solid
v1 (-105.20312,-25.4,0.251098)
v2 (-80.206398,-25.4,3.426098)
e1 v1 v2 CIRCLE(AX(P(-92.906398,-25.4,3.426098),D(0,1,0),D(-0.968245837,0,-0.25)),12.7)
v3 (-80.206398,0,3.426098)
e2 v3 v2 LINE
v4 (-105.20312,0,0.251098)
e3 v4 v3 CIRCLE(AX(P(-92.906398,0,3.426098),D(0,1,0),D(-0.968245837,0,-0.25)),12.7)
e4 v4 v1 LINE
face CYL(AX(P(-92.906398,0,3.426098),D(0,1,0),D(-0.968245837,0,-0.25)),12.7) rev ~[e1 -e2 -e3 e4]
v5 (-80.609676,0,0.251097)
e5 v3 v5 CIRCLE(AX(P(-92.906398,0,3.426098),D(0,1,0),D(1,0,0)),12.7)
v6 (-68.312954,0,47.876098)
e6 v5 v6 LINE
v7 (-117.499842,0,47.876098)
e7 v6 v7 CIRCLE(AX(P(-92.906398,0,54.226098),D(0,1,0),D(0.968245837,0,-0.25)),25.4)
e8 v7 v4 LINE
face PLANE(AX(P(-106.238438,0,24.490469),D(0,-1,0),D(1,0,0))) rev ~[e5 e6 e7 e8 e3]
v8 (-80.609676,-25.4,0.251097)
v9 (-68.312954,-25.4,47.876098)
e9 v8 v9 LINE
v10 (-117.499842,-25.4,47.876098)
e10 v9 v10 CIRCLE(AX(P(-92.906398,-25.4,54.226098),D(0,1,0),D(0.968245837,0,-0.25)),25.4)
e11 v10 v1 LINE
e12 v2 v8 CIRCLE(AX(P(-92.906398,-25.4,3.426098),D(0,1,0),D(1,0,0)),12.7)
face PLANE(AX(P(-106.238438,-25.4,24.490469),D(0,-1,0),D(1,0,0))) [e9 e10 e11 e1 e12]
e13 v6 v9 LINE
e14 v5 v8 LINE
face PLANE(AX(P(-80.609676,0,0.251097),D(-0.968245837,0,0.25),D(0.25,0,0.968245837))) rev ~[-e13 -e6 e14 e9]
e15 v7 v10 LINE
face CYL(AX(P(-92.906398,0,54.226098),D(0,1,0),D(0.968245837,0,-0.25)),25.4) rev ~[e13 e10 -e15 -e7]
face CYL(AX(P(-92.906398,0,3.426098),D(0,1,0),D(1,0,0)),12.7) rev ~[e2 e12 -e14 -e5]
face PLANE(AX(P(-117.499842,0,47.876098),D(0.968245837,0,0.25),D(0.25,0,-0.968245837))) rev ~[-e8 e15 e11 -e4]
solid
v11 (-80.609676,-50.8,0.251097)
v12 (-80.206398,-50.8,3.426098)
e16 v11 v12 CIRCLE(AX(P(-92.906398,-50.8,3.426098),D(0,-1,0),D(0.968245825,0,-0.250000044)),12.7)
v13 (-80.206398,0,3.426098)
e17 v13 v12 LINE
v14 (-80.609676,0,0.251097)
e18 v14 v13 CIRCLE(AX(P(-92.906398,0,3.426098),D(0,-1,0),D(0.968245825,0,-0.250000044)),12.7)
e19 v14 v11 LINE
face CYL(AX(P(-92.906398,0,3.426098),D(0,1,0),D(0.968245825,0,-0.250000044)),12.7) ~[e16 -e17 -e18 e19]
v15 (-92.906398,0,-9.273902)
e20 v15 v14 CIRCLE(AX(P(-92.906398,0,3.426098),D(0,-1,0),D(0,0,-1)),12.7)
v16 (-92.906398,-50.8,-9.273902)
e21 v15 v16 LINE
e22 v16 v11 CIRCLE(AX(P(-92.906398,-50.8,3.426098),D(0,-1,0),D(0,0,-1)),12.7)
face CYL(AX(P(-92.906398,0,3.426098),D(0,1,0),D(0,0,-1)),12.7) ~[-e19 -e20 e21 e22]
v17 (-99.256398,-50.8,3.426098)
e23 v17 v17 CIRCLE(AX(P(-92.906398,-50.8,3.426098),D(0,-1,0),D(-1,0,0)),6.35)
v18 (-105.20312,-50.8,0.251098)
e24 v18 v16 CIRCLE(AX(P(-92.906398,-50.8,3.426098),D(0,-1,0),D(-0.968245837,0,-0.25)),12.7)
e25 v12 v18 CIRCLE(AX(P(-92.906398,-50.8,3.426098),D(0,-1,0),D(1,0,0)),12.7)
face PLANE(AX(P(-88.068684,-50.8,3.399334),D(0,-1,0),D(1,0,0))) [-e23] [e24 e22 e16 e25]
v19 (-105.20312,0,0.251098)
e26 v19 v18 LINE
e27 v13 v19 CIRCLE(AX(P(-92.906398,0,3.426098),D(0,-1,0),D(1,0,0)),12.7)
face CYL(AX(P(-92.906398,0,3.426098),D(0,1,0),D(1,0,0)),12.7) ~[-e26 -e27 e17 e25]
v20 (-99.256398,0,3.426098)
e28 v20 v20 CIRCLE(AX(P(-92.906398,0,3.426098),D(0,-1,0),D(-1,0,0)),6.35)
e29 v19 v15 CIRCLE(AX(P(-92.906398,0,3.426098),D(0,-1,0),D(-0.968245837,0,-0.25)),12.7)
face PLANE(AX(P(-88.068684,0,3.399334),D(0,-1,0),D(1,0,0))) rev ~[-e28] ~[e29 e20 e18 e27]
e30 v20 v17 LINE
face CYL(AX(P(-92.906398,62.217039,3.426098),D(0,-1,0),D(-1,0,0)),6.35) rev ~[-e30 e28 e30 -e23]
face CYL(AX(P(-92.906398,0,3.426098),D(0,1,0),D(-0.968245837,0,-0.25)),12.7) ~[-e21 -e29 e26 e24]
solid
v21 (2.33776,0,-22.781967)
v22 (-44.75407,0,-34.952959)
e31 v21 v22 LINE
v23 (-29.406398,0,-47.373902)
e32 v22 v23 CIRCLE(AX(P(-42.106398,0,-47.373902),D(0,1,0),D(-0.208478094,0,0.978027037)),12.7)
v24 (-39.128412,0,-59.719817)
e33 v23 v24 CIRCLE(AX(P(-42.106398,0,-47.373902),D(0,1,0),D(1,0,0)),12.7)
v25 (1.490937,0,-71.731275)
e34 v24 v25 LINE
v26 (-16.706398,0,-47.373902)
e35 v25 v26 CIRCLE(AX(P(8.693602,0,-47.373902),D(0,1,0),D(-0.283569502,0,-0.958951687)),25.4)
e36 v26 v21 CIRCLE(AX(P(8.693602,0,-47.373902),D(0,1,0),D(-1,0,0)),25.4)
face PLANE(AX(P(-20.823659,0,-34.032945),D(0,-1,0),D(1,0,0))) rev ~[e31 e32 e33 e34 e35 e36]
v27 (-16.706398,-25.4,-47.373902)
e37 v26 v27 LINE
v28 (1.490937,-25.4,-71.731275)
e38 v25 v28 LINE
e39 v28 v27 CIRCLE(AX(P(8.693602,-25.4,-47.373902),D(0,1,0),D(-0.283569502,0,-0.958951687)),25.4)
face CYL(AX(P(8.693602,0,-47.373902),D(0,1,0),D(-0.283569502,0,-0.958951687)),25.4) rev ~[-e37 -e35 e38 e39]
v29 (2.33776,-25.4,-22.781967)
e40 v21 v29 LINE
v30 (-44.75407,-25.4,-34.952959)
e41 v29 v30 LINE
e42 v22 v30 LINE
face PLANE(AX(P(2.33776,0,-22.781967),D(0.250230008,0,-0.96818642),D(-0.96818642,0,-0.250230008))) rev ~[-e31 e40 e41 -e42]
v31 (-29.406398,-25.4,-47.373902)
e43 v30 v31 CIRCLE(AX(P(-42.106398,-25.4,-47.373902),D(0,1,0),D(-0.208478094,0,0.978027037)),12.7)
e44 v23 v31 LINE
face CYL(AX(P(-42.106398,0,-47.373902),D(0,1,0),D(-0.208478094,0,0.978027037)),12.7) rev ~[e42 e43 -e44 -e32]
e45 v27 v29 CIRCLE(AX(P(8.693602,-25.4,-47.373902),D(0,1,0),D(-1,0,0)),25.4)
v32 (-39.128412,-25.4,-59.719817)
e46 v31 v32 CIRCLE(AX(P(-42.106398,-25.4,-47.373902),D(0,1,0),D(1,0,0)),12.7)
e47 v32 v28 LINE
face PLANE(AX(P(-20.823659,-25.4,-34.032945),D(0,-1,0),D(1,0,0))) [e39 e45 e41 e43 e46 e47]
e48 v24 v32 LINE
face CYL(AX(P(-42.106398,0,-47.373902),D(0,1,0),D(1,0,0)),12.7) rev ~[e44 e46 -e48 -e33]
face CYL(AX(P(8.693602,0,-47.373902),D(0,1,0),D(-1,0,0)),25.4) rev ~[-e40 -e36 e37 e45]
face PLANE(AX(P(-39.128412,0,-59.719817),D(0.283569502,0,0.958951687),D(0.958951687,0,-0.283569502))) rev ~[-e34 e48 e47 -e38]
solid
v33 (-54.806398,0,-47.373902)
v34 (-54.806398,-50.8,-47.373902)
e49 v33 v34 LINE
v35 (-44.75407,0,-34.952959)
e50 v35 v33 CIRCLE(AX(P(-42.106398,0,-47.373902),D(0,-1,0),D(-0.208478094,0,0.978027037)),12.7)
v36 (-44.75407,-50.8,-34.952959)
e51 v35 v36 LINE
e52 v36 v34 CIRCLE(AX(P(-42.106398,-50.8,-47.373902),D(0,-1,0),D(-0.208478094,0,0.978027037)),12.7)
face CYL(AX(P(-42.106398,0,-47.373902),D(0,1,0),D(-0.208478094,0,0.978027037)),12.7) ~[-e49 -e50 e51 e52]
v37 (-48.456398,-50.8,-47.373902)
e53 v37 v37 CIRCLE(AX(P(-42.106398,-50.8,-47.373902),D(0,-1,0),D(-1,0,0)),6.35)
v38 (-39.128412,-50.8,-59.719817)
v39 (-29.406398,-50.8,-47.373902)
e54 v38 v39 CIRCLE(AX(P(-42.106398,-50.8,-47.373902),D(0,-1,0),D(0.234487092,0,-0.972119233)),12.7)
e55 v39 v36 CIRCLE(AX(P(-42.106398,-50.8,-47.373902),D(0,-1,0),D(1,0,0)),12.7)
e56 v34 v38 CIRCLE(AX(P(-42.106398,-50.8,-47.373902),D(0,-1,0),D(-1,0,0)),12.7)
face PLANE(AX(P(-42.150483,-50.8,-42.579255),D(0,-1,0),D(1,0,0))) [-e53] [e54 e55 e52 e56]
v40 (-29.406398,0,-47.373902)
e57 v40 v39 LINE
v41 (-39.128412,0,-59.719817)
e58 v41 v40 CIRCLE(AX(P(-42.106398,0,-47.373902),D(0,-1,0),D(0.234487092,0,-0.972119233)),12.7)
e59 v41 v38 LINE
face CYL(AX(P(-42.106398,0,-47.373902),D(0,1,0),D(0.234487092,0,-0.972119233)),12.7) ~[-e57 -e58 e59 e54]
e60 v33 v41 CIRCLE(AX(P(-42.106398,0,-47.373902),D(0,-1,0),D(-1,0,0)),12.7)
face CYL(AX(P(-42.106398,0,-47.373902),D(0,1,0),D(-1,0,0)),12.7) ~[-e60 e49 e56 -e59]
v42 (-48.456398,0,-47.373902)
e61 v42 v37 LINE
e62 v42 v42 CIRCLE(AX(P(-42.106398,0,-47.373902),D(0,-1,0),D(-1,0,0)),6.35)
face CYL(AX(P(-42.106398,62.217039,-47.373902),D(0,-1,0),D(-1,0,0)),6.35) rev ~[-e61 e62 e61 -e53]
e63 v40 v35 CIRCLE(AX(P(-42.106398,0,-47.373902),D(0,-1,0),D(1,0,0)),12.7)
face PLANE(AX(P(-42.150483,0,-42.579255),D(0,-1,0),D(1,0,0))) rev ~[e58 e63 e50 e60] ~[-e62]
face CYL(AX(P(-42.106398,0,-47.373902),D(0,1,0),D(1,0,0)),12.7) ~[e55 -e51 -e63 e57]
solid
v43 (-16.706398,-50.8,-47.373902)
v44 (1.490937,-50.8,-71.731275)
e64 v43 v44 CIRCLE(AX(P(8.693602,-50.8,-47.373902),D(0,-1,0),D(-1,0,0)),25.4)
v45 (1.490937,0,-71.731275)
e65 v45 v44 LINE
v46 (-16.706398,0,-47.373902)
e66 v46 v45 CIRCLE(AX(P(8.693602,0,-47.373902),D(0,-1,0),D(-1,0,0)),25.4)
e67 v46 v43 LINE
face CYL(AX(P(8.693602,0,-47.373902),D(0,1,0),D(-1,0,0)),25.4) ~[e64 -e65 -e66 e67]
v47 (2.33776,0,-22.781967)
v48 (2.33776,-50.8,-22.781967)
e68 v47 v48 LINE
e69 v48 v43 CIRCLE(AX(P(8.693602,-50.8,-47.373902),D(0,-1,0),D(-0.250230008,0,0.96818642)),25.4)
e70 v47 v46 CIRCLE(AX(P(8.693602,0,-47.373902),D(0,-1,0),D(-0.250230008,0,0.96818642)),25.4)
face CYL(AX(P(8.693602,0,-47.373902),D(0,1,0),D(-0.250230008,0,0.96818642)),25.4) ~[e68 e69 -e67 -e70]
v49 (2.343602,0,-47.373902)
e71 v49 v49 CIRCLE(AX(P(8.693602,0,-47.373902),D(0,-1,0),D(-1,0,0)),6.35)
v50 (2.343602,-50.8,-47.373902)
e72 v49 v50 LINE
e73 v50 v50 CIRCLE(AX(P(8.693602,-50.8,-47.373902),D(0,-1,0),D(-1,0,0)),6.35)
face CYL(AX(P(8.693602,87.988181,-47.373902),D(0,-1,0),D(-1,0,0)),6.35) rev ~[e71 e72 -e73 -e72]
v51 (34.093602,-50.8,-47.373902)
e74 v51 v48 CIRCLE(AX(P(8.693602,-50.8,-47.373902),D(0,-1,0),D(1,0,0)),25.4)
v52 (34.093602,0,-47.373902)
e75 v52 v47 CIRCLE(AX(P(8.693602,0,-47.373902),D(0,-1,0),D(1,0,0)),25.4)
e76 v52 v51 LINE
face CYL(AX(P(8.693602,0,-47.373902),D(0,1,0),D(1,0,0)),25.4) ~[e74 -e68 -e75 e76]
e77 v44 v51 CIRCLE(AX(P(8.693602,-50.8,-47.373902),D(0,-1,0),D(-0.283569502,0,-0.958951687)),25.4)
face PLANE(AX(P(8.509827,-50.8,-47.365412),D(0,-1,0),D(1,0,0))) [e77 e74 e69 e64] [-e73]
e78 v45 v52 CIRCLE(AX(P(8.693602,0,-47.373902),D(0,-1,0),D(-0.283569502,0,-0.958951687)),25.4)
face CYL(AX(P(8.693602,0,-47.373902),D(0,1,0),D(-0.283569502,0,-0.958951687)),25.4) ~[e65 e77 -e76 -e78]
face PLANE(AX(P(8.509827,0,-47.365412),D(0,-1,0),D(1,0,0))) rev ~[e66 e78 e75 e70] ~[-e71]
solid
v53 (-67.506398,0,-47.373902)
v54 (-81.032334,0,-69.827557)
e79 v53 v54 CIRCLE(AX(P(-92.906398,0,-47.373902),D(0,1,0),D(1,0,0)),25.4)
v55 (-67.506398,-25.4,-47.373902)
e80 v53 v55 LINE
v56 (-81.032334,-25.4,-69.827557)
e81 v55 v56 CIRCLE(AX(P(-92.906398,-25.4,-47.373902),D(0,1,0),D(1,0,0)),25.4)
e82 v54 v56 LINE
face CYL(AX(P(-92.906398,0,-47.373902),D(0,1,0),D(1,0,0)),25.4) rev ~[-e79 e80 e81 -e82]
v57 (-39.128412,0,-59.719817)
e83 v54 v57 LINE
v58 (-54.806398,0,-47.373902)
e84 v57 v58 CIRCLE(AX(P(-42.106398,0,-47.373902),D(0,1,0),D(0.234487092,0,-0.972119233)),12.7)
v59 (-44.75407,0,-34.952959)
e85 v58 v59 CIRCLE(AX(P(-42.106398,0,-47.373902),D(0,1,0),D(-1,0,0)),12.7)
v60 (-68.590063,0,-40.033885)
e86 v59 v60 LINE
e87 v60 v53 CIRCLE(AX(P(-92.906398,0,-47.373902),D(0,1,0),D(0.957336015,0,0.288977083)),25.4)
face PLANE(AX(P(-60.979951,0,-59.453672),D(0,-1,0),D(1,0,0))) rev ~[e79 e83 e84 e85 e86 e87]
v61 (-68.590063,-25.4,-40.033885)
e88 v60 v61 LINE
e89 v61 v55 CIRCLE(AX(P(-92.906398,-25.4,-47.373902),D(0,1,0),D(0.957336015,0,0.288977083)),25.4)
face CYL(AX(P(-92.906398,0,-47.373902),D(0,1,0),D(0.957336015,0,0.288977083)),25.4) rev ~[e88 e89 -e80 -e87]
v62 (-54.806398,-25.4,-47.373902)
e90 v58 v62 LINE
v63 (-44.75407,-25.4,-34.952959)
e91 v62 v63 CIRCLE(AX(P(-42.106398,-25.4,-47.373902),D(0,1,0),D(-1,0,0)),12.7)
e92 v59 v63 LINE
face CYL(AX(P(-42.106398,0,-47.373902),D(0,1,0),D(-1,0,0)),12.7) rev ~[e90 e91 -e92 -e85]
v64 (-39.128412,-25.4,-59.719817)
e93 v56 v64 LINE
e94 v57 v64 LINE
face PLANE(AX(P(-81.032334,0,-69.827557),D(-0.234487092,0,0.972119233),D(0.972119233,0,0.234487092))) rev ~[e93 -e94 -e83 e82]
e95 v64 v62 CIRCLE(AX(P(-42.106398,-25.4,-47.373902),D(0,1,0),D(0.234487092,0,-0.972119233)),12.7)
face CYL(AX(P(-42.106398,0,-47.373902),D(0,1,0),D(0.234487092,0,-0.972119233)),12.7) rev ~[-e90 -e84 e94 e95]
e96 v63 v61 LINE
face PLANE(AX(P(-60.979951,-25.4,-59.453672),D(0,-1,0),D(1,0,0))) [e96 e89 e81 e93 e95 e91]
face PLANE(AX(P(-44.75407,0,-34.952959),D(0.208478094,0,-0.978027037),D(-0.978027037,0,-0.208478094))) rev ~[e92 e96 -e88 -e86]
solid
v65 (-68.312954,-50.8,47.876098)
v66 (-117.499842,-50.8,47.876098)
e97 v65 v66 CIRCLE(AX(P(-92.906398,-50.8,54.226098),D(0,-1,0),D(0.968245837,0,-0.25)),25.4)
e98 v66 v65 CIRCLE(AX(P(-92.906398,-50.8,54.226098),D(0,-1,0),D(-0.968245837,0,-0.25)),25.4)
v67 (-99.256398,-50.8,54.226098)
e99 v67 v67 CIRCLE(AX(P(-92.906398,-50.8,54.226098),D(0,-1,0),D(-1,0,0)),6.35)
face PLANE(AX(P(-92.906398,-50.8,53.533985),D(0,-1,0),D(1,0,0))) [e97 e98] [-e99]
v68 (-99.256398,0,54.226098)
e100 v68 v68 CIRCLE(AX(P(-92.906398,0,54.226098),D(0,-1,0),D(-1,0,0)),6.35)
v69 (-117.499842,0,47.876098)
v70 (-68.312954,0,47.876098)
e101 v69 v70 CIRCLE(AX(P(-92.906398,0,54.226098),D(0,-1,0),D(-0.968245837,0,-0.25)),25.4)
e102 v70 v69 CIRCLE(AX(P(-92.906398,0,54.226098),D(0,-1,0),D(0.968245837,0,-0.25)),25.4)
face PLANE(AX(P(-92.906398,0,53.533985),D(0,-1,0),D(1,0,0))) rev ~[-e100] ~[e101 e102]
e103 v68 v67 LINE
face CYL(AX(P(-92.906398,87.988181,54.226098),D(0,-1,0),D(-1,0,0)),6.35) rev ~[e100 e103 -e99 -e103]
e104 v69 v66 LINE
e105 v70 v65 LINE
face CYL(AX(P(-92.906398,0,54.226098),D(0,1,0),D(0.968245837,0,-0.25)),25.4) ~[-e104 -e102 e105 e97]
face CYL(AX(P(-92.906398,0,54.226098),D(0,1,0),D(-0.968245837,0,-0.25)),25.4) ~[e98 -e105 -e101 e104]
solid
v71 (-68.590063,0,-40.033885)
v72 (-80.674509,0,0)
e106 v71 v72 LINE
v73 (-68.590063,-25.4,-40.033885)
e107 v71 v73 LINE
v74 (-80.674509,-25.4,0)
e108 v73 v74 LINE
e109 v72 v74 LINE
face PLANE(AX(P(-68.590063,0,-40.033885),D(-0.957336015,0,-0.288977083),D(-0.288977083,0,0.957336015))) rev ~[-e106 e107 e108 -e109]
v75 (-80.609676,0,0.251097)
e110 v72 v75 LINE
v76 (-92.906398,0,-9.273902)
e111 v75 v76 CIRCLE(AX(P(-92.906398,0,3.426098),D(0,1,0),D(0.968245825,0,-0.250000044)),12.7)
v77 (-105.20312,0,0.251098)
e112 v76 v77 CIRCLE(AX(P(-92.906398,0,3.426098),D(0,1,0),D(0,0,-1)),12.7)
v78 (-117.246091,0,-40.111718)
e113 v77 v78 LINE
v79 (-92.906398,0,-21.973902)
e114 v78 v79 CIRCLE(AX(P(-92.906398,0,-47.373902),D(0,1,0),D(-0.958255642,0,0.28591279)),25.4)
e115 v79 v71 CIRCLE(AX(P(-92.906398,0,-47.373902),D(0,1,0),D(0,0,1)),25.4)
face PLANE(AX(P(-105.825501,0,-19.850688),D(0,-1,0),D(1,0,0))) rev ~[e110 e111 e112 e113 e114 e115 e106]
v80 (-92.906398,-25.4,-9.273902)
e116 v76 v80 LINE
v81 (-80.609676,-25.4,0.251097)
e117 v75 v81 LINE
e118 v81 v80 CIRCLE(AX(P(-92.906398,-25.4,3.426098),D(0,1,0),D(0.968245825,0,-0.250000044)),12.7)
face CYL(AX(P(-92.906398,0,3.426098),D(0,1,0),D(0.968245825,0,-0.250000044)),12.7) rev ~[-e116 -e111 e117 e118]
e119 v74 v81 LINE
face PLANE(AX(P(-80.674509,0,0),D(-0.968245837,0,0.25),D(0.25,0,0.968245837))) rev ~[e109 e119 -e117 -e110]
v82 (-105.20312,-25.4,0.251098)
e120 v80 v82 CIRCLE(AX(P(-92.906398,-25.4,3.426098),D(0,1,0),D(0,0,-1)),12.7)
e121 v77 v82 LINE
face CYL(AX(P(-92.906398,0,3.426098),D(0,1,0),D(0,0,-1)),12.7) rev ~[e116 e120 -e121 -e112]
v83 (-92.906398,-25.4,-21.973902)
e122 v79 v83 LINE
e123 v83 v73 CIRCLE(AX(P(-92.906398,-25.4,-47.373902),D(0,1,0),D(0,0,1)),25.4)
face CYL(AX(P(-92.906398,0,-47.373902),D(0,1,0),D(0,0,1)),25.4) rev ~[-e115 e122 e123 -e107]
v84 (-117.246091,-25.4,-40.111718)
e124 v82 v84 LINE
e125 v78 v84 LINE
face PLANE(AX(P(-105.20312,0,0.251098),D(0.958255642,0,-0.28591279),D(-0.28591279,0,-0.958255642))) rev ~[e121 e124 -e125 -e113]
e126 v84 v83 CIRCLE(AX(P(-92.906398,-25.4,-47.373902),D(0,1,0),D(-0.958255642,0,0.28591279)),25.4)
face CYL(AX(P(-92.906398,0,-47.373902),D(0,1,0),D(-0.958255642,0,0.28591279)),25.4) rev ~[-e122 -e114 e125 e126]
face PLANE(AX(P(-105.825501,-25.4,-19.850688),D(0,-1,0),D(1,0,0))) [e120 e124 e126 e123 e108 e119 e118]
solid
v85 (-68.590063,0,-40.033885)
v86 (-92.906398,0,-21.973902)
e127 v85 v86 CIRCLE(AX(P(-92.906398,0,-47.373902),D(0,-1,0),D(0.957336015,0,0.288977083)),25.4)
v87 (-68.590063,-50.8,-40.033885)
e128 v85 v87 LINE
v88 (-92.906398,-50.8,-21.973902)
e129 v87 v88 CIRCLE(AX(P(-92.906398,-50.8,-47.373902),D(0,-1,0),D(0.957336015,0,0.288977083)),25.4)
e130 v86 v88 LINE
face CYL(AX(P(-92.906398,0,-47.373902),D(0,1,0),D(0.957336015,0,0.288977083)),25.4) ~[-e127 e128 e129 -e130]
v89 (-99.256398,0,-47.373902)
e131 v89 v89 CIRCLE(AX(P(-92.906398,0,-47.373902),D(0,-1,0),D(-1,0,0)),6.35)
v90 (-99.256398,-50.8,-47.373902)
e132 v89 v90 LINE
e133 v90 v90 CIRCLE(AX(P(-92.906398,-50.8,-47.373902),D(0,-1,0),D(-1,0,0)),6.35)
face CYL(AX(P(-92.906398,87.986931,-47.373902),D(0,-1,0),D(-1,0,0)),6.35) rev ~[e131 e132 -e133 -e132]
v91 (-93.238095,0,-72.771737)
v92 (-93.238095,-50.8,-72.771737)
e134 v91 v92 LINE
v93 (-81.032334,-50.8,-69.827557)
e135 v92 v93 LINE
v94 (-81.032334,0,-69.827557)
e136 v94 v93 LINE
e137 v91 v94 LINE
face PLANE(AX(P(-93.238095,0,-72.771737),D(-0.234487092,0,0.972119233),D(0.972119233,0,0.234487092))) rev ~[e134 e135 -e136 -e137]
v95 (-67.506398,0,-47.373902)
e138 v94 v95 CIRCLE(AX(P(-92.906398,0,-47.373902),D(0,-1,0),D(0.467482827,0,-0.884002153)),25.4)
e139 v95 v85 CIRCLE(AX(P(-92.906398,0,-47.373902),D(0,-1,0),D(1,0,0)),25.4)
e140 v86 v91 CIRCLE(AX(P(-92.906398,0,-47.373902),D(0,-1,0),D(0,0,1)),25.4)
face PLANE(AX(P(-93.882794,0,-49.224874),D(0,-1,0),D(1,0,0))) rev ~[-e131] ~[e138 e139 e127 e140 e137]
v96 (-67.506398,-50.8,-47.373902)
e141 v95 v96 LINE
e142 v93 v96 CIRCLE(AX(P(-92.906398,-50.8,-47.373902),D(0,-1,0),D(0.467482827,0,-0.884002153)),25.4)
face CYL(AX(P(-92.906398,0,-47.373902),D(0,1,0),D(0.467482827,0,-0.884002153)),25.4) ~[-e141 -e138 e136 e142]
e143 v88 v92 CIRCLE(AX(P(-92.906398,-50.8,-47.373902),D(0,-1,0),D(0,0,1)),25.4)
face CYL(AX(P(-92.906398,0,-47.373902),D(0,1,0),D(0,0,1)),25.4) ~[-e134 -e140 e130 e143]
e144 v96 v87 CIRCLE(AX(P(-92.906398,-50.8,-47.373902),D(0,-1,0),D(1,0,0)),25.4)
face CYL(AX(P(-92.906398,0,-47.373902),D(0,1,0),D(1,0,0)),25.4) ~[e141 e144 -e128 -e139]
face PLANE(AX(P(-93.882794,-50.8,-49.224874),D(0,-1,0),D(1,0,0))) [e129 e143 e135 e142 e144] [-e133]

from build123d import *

# Parameters (mm, degrees)
F1_DEPTH = 50.8
F2_DEPTH = 25.4
F3_D     = 12.7
F3_2_D   = 12.7
F3_3_D   = 12.7
F3_4_D   = 12.7
F3_5_D   = 12.7


with BuildPart() as f1:
    # F0 (on Front) → F1 (new body)
    with BuildSketch(Plane.XZ):
        with BuildLine():
            ThreePointArc((-92.9063978889, 28.8260975842), (-77.3521380222, 34.1456344421), (-68.3129536404, 47.8760975842))
            ThreePointArc((-68.3129536404, 47.8760975842), (-67.7088436037, 51.0255885551), (-67.5063978889, 54.2260975842))
            ThreePointArc((-67.5063978889, 54.2260975842), (-96.1069069179, 79.4236518694), (-117.4998421373, 47.8760975842))
            ThreePointArc((-117.4998421373, 47.8760975842), (-108.4606577555, 34.1456344421), (-92.9063978889, 28.8260975842))
        make_face()
    extrude(amount=F1_DEPTH)

    # F3 (through all)
    with Locations(Plane(origin=(0, 0, 0), x_dir=(1, 0, 0), z_dir=(0, 1, 0))):
        with Locations((-92.9063978889, 47.3739024158), (-92.9063978889, -3.4260975842), (-92.9063978889, -54.2260975842), (-42.1063978889, 47.3739024158), (8.6936021111, 47.3739024158)):
            Hole(F3_D / 2)


with BuildPart() as f1b:
    # F0 (on Front) → F1, piece 2 (new body)
    with BuildSketch(Plane.XZ):
        with BuildLine():
            Line((-92.9063978889, 3.4260975842), (-92.9063978889, -9.2739024158))
            ThreePointArc((-92.9063978889, -9.2739024158), (-85.1292681832, -6.6141341632), (-80.6096759086, 0.2510970266))
            ThreePointArc((-80.6096759086, 0.2510970266), (-80.3076207826, 1.825842784), (-80.2063978889, 3.4260975842))
            ThreePointArc((-80.2063978889, 3.4260975842), (-83.9261417678, 12.4063537053), (-92.9063978889, 16.1260975842))
            Line((-92.9063978889, 16.1260975842), (-92.9063978889, 3.4260975842))
        make_face()
        with BuildLine():
            ThreePointArc((-105.2031200131, 0.2510975842), (-100.6835278222, -6.6141339869), (-92.9063978889, -9.2739024158))
            Line((-92.9063978889, -9.2739024158), (-92.9063978889, 3.4260975842))
            Line((-92.9063978889, 3.4260975842), (-92.9063978889, 16.1260975842))
            ThreePointArc((-92.9063978889, 16.1260975842), (-102.9466294599, 11.2032275175), (-105.2031200131, 0.2510975842))
        make_face()
    extrude(amount=F1_DEPTH)

    # F3#2 (through all)
    with Locations(Plane(origin=(0, 0, 0), x_dir=(1, 0, 0), z_dir=(0, 1, 0))):
        with Locations((-92.9063978889, 47.3739024158), (-92.9063978889, -3.4260975842), (-92.9063978889, -54.2260975842), (-42.1063978889, 47.3739024158), (8.6936021111, 47.3739024158)):
            Hole(F3_2_D / 2)


with BuildPart() as f1c:
    # F0 (on Front) → F1, piece 3 (new body)
    with BuildSketch(Plane.XZ):
        with BuildLine():
            ThreePointArc((-81.0323340741, -69.8275570966), (-71.149086234, -60.4803660713), (-67.5063978889, -47.3739024158))
            Line((-67.5063978889, -47.3739024158), (-92.9063978889, -47.3739024158))
            Line((-92.9063978889, -47.3739024158), (-92.9063978889, -21.9739024158))
            ThreePointArc((-92.9063978889, -21.9739024158), (-108.0836918534, -27.0070237175), (-117.2460912074, -40.1117175408))
            ThreePointArc((-117.2460912074, -40.1117175408), (-113.3719442813, -62.4178849624), (-93.2380952331, -72.7717365139))
            Line((-93.2380952331, -72.7717365139), (-81.0323340741, -69.8275570966))
        make_face()
        with BuildLine():
            Line((-92.9063978889, -47.3739024158), (-67.5063978889, -47.3739024158))
            ThreePointArc((-67.5063978889, -47.3739024158), (-67.7787746086, -43.6641115478), (-68.5900631081, -40.0338845119))
            ThreePointArc((-68.5900631081, -40.0338845119), (-77.7617033518, -26.9827713197), (-92.9063978889, -21.9739024158))
            Line((-92.9063978889, -21.9739024158), (-92.9063978889, -47.3739024158))
        make_face()
    extrude(amount=F1_DEPTH)

    # F3#3 (through all)
    with Locations(Plane(origin=(0, 0, 0), x_dir=(1, 0, 0), z_dir=(0, 1, 0))):
        with Locations((-92.9063978889, 47.3739024158), (-92.9063978889, -3.4260975842), (-92.9063978889, -54.2260975842), (-42.1063978889, 47.3739024158), (8.6936021111, 47.3739024158)):
            Hole(F3_3_D / 2)


with BuildPart() as f1d:
    # F0 (on Front) → F1, piece 4 (new body)
    with BuildSketch(Plane.XZ):
        with BuildLine():
            ThreePointArc((2.3377599205, -22.7819673547), (-11.3887084088, -31.8220277964), (-16.7063978889, -47.3739024158))
            ThreePointArc((-16.7063978889, -47.3739024158), (-11.6547110887, -62.5760782443), (1.4909367505, -71.7312752565))
            ThreePointArc((1.4909367505, -71.7312752565), (23.8957779396, -67.7222156157), (34.0936021111, -47.3739024158))
            ThreePointArc((34.0936021111, -47.3739024158), (24.2454767306, -27.2915918958), (2.3377599205, -22.7819673547))
        make_face()
    extrude(amount=F1_DEPTH)

    # F3#4 (through all)
    with Locations(Plane(origin=(0, 0, 0), x_dir=(1, 0, 0), z_dir=(0, 1, 0))):
        with Locations((-92.9063978889, 47.3739024158), (-92.9063978889, -3.4260975842), (-92.9063978889, -54.2260975842), (-42.1063978889, 47.3739024158), (8.6936021111, 47.3739024158)):
            Hole(F3_4_D / 2)


with BuildPart() as f1e:
    # F0 (on Front) → F1, piece 5 (new body)
    with BuildSketch(Plane.XZ):
        with BuildLine():
            Line((-54.8063978889, -47.3739024158), (-42.1063978889, -47.3739024158))
            Line((-42.1063978889, -47.3739024158), (-29.4063978889, -47.3739024158))
            ThreePointArc((-29.4063978889, -47.3739024158), (-34.1168870071, -37.5018349591), (-44.7540696795, -34.9529590503))
            ThreePointArc((-44.7540696795, -34.9529590503), (-51.9784653456, -39.3843915341), (-54.8063978889, -47.3739024158))
        make_face()
        with BuildLine():
            Line((-29.4063978889, -47.3739024158), (-42.1063978889, -47.3739024158))
            Line((-42.1063978889, -47.3739024158), (-54.8063978889, -47.3739024158))
            ThreePointArc((-54.8063978889, -47.3739024158), (-49.9635467661, -57.3516382071), (-39.1284118225, -59.7198166788))
            ThreePointArc((-39.1284118225, -59.7198166788), (-32.1286620975, -55.231051293), (-29.4063978889, -47.3739024158))
        make_face()
    extrude(amount=F1_DEPTH)

    # F3#5 (through all)
    with Locations(Plane(origin=(0, 0, 0), x_dir=(1, 0, 0), z_dir=(0, 1, 0))):
        with Locations((-92.9063978889, 47.3739024158), (-92.9063978889, -3.4260975842), (-92.9063978889, -54.2260975842), (-42.1063978889, 47.3739024158), (8.6936021111, 47.3739024158)):
            Hole(F3_5_D / 2)


with BuildPart() as f2:
    # F0 (on Front) → F2 (new body)
    with BuildSketch(Plane.XZ):
        with BuildLine():
            Line((-117.4998421373, 47.8760975842), (-105.2031200131, 0.2510975842))
            ThreePointArc((-105.2031200131, 0.2510975842), (-102.9466294599, 11.2032275175), (-92.9063978889, 16.1260975842))
            Line((-92.9063978889, 16.1260975842), (-92.9063978889, 28.8260975842))
            ThreePointArc((-92.9063978889, 28.8260975842), (-108.4606577555, 34.1456344421), (-117.4998421373, 47.8760975842))
        make_face()
        with BuildLine():
            ThreePointArc((-80.2063978889, 3.4260975842), (-80.3076207826, 1.825842784), (-80.6096759086, 0.2510970266))
            Line((-80.6096759086, 0.2510970266), (-68.3129536404, 47.8760975842))
            ThreePointArc((-68.3129536404, 47.8760975842), (-77.3521380222, 34.1456344421), (-92.9063978889, 28.8260975842))
            Line((-92.9063978889, 28.8260975842), (-92.9063978889, 16.1260975842))
            ThreePointArc((-92.9063978889, 16.1260975842), (-83.9261417678, 12.4063537053), (-80.2063978889, 3.4260975842))
        make_face()
    extrude(amount=F2_DEPTH)


with BuildPart() as f2b:
    # F0 (on Front) → F2, piece 2 (new body)
    with BuildSketch(Plane.XZ):
        with BuildLine():
            ThreePointArc((-117.2460912074, -40.1117175408), (-108.0836918534, -27.0070237175), (-92.9063978889, -21.9739024158))
            Line((-92.9063978889, -21.9739024158), (-92.9063978889, -9.2739024158))
            ThreePointArc((-92.9063978889, -9.2739024158), (-100.6835278222, -6.6141339869), (-105.2031200131, 0.2510975842))
            Line((-105.2031200131, 0.2510975842), (-117.2460912074, -40.1117175408))
        make_face()
        with BuildLine():
            ThreePointArc((-92.9063978889, -21.9739024158), (-77.7617033518, -26.9827713197), (-68.5900631081, -40.0338845119))
            Line((-68.5900631081, -40.0338845119), (-80.6745088821, 0))
            Line((-80.6745088821, 0), (-80.6096759086, 0.2510970266))
            ThreePointArc((-80.6096759086, 0.2510970266), (-85.1292681832, -6.6141341632), (-92.9063978889, -9.2739024158))
            Line((-92.9063978889, -9.2739024158), (-92.9063978889, -21.9739024158))
        make_face()
    extrude(amount=F2_DEPTH)


with BuildPart() as f2c:
    # F0 (on Front) → F2, piece 3 (new body)
    with BuildSketch(Plane.XZ):
        with BuildLine():
            ThreePointArc((-44.7540696795, -34.9529590503), (-34.1168870071, -37.5018349591), (-29.4063978889, -47.3739024158))
            Line((-29.4063978889, -47.3739024158), (-16.7063978889, -47.3739024158))
            ThreePointArc((-16.7063978889, -47.3739024158), (-11.3887084088, -31.8220277964), (2.3377599205, -22.7819673547))
            Line((2.3377599205, -22.7819673547), (-44.7540696795, -34.9529590503))
        make_face()
        with BuildLine():
            Line((-16.7063978889, -47.3739024158), (-29.4063978889, -47.3739024158))
            ThreePointArc((-29.4063978889, -47.3739024158), (-32.1286620975, -55.231051293), (-39.1284118225, -59.7198166788))
            Line((-39.1284118225, -59.7198166788), (1.4909367505, -71.7312752565))
            ThreePointArc((1.4909367505, -71.7312752565), (-11.6547110887, -62.5760782443), (-16.7063978889, -47.3739024158))
        make_face()
    extrude(amount=F2_DEPTH)


with BuildPart() as f2d:
    # F0 (on Front) → F2, piece 4 (new body)
    with BuildSketch(Plane.XZ):
        with BuildLine():
            ThreePointArc((-39.1284118225, -59.7198166788), (-49.9635467661, -57.3516382071), (-54.8063978889, -47.3739024158))
            Line((-54.8063978889, -47.3739024158), (-67.5063978889, -47.3739024158))
            ThreePointArc((-67.5063978889, -47.3739024158), (-71.149086234, -60.4803660713), (-81.0323340741, -69.8275570966))
            Line((-81.0323340741, -69.8275570966), (-39.1284118225, -59.7198166788))
        make_face()
        with BuildLine():
            Line((-67.5063978889, -47.3739024158), (-54.8063978889, -47.3739024158))
            ThreePointArc((-54.8063978889, -47.3739024158), (-51.9784653456, -39.3843915341), (-44.7540696795, -34.9529590503))
            Line((-44.7540696795, -34.9529590503), (-68.5900631081, -40.0338845119))
            ThreePointArc((-68.5900631081, -40.0338845119), (-67.7787746086, -43.6641115478), (-67.5063978889, -47.3739024158))
        make_face()
    extrude(amount=F2_DEPTH)


solid = Compound([f1.part, f1b.part, f1c.part, f1d.part, f1e.part, f2.part, f2b.part, f2c.part, f2d.part])
